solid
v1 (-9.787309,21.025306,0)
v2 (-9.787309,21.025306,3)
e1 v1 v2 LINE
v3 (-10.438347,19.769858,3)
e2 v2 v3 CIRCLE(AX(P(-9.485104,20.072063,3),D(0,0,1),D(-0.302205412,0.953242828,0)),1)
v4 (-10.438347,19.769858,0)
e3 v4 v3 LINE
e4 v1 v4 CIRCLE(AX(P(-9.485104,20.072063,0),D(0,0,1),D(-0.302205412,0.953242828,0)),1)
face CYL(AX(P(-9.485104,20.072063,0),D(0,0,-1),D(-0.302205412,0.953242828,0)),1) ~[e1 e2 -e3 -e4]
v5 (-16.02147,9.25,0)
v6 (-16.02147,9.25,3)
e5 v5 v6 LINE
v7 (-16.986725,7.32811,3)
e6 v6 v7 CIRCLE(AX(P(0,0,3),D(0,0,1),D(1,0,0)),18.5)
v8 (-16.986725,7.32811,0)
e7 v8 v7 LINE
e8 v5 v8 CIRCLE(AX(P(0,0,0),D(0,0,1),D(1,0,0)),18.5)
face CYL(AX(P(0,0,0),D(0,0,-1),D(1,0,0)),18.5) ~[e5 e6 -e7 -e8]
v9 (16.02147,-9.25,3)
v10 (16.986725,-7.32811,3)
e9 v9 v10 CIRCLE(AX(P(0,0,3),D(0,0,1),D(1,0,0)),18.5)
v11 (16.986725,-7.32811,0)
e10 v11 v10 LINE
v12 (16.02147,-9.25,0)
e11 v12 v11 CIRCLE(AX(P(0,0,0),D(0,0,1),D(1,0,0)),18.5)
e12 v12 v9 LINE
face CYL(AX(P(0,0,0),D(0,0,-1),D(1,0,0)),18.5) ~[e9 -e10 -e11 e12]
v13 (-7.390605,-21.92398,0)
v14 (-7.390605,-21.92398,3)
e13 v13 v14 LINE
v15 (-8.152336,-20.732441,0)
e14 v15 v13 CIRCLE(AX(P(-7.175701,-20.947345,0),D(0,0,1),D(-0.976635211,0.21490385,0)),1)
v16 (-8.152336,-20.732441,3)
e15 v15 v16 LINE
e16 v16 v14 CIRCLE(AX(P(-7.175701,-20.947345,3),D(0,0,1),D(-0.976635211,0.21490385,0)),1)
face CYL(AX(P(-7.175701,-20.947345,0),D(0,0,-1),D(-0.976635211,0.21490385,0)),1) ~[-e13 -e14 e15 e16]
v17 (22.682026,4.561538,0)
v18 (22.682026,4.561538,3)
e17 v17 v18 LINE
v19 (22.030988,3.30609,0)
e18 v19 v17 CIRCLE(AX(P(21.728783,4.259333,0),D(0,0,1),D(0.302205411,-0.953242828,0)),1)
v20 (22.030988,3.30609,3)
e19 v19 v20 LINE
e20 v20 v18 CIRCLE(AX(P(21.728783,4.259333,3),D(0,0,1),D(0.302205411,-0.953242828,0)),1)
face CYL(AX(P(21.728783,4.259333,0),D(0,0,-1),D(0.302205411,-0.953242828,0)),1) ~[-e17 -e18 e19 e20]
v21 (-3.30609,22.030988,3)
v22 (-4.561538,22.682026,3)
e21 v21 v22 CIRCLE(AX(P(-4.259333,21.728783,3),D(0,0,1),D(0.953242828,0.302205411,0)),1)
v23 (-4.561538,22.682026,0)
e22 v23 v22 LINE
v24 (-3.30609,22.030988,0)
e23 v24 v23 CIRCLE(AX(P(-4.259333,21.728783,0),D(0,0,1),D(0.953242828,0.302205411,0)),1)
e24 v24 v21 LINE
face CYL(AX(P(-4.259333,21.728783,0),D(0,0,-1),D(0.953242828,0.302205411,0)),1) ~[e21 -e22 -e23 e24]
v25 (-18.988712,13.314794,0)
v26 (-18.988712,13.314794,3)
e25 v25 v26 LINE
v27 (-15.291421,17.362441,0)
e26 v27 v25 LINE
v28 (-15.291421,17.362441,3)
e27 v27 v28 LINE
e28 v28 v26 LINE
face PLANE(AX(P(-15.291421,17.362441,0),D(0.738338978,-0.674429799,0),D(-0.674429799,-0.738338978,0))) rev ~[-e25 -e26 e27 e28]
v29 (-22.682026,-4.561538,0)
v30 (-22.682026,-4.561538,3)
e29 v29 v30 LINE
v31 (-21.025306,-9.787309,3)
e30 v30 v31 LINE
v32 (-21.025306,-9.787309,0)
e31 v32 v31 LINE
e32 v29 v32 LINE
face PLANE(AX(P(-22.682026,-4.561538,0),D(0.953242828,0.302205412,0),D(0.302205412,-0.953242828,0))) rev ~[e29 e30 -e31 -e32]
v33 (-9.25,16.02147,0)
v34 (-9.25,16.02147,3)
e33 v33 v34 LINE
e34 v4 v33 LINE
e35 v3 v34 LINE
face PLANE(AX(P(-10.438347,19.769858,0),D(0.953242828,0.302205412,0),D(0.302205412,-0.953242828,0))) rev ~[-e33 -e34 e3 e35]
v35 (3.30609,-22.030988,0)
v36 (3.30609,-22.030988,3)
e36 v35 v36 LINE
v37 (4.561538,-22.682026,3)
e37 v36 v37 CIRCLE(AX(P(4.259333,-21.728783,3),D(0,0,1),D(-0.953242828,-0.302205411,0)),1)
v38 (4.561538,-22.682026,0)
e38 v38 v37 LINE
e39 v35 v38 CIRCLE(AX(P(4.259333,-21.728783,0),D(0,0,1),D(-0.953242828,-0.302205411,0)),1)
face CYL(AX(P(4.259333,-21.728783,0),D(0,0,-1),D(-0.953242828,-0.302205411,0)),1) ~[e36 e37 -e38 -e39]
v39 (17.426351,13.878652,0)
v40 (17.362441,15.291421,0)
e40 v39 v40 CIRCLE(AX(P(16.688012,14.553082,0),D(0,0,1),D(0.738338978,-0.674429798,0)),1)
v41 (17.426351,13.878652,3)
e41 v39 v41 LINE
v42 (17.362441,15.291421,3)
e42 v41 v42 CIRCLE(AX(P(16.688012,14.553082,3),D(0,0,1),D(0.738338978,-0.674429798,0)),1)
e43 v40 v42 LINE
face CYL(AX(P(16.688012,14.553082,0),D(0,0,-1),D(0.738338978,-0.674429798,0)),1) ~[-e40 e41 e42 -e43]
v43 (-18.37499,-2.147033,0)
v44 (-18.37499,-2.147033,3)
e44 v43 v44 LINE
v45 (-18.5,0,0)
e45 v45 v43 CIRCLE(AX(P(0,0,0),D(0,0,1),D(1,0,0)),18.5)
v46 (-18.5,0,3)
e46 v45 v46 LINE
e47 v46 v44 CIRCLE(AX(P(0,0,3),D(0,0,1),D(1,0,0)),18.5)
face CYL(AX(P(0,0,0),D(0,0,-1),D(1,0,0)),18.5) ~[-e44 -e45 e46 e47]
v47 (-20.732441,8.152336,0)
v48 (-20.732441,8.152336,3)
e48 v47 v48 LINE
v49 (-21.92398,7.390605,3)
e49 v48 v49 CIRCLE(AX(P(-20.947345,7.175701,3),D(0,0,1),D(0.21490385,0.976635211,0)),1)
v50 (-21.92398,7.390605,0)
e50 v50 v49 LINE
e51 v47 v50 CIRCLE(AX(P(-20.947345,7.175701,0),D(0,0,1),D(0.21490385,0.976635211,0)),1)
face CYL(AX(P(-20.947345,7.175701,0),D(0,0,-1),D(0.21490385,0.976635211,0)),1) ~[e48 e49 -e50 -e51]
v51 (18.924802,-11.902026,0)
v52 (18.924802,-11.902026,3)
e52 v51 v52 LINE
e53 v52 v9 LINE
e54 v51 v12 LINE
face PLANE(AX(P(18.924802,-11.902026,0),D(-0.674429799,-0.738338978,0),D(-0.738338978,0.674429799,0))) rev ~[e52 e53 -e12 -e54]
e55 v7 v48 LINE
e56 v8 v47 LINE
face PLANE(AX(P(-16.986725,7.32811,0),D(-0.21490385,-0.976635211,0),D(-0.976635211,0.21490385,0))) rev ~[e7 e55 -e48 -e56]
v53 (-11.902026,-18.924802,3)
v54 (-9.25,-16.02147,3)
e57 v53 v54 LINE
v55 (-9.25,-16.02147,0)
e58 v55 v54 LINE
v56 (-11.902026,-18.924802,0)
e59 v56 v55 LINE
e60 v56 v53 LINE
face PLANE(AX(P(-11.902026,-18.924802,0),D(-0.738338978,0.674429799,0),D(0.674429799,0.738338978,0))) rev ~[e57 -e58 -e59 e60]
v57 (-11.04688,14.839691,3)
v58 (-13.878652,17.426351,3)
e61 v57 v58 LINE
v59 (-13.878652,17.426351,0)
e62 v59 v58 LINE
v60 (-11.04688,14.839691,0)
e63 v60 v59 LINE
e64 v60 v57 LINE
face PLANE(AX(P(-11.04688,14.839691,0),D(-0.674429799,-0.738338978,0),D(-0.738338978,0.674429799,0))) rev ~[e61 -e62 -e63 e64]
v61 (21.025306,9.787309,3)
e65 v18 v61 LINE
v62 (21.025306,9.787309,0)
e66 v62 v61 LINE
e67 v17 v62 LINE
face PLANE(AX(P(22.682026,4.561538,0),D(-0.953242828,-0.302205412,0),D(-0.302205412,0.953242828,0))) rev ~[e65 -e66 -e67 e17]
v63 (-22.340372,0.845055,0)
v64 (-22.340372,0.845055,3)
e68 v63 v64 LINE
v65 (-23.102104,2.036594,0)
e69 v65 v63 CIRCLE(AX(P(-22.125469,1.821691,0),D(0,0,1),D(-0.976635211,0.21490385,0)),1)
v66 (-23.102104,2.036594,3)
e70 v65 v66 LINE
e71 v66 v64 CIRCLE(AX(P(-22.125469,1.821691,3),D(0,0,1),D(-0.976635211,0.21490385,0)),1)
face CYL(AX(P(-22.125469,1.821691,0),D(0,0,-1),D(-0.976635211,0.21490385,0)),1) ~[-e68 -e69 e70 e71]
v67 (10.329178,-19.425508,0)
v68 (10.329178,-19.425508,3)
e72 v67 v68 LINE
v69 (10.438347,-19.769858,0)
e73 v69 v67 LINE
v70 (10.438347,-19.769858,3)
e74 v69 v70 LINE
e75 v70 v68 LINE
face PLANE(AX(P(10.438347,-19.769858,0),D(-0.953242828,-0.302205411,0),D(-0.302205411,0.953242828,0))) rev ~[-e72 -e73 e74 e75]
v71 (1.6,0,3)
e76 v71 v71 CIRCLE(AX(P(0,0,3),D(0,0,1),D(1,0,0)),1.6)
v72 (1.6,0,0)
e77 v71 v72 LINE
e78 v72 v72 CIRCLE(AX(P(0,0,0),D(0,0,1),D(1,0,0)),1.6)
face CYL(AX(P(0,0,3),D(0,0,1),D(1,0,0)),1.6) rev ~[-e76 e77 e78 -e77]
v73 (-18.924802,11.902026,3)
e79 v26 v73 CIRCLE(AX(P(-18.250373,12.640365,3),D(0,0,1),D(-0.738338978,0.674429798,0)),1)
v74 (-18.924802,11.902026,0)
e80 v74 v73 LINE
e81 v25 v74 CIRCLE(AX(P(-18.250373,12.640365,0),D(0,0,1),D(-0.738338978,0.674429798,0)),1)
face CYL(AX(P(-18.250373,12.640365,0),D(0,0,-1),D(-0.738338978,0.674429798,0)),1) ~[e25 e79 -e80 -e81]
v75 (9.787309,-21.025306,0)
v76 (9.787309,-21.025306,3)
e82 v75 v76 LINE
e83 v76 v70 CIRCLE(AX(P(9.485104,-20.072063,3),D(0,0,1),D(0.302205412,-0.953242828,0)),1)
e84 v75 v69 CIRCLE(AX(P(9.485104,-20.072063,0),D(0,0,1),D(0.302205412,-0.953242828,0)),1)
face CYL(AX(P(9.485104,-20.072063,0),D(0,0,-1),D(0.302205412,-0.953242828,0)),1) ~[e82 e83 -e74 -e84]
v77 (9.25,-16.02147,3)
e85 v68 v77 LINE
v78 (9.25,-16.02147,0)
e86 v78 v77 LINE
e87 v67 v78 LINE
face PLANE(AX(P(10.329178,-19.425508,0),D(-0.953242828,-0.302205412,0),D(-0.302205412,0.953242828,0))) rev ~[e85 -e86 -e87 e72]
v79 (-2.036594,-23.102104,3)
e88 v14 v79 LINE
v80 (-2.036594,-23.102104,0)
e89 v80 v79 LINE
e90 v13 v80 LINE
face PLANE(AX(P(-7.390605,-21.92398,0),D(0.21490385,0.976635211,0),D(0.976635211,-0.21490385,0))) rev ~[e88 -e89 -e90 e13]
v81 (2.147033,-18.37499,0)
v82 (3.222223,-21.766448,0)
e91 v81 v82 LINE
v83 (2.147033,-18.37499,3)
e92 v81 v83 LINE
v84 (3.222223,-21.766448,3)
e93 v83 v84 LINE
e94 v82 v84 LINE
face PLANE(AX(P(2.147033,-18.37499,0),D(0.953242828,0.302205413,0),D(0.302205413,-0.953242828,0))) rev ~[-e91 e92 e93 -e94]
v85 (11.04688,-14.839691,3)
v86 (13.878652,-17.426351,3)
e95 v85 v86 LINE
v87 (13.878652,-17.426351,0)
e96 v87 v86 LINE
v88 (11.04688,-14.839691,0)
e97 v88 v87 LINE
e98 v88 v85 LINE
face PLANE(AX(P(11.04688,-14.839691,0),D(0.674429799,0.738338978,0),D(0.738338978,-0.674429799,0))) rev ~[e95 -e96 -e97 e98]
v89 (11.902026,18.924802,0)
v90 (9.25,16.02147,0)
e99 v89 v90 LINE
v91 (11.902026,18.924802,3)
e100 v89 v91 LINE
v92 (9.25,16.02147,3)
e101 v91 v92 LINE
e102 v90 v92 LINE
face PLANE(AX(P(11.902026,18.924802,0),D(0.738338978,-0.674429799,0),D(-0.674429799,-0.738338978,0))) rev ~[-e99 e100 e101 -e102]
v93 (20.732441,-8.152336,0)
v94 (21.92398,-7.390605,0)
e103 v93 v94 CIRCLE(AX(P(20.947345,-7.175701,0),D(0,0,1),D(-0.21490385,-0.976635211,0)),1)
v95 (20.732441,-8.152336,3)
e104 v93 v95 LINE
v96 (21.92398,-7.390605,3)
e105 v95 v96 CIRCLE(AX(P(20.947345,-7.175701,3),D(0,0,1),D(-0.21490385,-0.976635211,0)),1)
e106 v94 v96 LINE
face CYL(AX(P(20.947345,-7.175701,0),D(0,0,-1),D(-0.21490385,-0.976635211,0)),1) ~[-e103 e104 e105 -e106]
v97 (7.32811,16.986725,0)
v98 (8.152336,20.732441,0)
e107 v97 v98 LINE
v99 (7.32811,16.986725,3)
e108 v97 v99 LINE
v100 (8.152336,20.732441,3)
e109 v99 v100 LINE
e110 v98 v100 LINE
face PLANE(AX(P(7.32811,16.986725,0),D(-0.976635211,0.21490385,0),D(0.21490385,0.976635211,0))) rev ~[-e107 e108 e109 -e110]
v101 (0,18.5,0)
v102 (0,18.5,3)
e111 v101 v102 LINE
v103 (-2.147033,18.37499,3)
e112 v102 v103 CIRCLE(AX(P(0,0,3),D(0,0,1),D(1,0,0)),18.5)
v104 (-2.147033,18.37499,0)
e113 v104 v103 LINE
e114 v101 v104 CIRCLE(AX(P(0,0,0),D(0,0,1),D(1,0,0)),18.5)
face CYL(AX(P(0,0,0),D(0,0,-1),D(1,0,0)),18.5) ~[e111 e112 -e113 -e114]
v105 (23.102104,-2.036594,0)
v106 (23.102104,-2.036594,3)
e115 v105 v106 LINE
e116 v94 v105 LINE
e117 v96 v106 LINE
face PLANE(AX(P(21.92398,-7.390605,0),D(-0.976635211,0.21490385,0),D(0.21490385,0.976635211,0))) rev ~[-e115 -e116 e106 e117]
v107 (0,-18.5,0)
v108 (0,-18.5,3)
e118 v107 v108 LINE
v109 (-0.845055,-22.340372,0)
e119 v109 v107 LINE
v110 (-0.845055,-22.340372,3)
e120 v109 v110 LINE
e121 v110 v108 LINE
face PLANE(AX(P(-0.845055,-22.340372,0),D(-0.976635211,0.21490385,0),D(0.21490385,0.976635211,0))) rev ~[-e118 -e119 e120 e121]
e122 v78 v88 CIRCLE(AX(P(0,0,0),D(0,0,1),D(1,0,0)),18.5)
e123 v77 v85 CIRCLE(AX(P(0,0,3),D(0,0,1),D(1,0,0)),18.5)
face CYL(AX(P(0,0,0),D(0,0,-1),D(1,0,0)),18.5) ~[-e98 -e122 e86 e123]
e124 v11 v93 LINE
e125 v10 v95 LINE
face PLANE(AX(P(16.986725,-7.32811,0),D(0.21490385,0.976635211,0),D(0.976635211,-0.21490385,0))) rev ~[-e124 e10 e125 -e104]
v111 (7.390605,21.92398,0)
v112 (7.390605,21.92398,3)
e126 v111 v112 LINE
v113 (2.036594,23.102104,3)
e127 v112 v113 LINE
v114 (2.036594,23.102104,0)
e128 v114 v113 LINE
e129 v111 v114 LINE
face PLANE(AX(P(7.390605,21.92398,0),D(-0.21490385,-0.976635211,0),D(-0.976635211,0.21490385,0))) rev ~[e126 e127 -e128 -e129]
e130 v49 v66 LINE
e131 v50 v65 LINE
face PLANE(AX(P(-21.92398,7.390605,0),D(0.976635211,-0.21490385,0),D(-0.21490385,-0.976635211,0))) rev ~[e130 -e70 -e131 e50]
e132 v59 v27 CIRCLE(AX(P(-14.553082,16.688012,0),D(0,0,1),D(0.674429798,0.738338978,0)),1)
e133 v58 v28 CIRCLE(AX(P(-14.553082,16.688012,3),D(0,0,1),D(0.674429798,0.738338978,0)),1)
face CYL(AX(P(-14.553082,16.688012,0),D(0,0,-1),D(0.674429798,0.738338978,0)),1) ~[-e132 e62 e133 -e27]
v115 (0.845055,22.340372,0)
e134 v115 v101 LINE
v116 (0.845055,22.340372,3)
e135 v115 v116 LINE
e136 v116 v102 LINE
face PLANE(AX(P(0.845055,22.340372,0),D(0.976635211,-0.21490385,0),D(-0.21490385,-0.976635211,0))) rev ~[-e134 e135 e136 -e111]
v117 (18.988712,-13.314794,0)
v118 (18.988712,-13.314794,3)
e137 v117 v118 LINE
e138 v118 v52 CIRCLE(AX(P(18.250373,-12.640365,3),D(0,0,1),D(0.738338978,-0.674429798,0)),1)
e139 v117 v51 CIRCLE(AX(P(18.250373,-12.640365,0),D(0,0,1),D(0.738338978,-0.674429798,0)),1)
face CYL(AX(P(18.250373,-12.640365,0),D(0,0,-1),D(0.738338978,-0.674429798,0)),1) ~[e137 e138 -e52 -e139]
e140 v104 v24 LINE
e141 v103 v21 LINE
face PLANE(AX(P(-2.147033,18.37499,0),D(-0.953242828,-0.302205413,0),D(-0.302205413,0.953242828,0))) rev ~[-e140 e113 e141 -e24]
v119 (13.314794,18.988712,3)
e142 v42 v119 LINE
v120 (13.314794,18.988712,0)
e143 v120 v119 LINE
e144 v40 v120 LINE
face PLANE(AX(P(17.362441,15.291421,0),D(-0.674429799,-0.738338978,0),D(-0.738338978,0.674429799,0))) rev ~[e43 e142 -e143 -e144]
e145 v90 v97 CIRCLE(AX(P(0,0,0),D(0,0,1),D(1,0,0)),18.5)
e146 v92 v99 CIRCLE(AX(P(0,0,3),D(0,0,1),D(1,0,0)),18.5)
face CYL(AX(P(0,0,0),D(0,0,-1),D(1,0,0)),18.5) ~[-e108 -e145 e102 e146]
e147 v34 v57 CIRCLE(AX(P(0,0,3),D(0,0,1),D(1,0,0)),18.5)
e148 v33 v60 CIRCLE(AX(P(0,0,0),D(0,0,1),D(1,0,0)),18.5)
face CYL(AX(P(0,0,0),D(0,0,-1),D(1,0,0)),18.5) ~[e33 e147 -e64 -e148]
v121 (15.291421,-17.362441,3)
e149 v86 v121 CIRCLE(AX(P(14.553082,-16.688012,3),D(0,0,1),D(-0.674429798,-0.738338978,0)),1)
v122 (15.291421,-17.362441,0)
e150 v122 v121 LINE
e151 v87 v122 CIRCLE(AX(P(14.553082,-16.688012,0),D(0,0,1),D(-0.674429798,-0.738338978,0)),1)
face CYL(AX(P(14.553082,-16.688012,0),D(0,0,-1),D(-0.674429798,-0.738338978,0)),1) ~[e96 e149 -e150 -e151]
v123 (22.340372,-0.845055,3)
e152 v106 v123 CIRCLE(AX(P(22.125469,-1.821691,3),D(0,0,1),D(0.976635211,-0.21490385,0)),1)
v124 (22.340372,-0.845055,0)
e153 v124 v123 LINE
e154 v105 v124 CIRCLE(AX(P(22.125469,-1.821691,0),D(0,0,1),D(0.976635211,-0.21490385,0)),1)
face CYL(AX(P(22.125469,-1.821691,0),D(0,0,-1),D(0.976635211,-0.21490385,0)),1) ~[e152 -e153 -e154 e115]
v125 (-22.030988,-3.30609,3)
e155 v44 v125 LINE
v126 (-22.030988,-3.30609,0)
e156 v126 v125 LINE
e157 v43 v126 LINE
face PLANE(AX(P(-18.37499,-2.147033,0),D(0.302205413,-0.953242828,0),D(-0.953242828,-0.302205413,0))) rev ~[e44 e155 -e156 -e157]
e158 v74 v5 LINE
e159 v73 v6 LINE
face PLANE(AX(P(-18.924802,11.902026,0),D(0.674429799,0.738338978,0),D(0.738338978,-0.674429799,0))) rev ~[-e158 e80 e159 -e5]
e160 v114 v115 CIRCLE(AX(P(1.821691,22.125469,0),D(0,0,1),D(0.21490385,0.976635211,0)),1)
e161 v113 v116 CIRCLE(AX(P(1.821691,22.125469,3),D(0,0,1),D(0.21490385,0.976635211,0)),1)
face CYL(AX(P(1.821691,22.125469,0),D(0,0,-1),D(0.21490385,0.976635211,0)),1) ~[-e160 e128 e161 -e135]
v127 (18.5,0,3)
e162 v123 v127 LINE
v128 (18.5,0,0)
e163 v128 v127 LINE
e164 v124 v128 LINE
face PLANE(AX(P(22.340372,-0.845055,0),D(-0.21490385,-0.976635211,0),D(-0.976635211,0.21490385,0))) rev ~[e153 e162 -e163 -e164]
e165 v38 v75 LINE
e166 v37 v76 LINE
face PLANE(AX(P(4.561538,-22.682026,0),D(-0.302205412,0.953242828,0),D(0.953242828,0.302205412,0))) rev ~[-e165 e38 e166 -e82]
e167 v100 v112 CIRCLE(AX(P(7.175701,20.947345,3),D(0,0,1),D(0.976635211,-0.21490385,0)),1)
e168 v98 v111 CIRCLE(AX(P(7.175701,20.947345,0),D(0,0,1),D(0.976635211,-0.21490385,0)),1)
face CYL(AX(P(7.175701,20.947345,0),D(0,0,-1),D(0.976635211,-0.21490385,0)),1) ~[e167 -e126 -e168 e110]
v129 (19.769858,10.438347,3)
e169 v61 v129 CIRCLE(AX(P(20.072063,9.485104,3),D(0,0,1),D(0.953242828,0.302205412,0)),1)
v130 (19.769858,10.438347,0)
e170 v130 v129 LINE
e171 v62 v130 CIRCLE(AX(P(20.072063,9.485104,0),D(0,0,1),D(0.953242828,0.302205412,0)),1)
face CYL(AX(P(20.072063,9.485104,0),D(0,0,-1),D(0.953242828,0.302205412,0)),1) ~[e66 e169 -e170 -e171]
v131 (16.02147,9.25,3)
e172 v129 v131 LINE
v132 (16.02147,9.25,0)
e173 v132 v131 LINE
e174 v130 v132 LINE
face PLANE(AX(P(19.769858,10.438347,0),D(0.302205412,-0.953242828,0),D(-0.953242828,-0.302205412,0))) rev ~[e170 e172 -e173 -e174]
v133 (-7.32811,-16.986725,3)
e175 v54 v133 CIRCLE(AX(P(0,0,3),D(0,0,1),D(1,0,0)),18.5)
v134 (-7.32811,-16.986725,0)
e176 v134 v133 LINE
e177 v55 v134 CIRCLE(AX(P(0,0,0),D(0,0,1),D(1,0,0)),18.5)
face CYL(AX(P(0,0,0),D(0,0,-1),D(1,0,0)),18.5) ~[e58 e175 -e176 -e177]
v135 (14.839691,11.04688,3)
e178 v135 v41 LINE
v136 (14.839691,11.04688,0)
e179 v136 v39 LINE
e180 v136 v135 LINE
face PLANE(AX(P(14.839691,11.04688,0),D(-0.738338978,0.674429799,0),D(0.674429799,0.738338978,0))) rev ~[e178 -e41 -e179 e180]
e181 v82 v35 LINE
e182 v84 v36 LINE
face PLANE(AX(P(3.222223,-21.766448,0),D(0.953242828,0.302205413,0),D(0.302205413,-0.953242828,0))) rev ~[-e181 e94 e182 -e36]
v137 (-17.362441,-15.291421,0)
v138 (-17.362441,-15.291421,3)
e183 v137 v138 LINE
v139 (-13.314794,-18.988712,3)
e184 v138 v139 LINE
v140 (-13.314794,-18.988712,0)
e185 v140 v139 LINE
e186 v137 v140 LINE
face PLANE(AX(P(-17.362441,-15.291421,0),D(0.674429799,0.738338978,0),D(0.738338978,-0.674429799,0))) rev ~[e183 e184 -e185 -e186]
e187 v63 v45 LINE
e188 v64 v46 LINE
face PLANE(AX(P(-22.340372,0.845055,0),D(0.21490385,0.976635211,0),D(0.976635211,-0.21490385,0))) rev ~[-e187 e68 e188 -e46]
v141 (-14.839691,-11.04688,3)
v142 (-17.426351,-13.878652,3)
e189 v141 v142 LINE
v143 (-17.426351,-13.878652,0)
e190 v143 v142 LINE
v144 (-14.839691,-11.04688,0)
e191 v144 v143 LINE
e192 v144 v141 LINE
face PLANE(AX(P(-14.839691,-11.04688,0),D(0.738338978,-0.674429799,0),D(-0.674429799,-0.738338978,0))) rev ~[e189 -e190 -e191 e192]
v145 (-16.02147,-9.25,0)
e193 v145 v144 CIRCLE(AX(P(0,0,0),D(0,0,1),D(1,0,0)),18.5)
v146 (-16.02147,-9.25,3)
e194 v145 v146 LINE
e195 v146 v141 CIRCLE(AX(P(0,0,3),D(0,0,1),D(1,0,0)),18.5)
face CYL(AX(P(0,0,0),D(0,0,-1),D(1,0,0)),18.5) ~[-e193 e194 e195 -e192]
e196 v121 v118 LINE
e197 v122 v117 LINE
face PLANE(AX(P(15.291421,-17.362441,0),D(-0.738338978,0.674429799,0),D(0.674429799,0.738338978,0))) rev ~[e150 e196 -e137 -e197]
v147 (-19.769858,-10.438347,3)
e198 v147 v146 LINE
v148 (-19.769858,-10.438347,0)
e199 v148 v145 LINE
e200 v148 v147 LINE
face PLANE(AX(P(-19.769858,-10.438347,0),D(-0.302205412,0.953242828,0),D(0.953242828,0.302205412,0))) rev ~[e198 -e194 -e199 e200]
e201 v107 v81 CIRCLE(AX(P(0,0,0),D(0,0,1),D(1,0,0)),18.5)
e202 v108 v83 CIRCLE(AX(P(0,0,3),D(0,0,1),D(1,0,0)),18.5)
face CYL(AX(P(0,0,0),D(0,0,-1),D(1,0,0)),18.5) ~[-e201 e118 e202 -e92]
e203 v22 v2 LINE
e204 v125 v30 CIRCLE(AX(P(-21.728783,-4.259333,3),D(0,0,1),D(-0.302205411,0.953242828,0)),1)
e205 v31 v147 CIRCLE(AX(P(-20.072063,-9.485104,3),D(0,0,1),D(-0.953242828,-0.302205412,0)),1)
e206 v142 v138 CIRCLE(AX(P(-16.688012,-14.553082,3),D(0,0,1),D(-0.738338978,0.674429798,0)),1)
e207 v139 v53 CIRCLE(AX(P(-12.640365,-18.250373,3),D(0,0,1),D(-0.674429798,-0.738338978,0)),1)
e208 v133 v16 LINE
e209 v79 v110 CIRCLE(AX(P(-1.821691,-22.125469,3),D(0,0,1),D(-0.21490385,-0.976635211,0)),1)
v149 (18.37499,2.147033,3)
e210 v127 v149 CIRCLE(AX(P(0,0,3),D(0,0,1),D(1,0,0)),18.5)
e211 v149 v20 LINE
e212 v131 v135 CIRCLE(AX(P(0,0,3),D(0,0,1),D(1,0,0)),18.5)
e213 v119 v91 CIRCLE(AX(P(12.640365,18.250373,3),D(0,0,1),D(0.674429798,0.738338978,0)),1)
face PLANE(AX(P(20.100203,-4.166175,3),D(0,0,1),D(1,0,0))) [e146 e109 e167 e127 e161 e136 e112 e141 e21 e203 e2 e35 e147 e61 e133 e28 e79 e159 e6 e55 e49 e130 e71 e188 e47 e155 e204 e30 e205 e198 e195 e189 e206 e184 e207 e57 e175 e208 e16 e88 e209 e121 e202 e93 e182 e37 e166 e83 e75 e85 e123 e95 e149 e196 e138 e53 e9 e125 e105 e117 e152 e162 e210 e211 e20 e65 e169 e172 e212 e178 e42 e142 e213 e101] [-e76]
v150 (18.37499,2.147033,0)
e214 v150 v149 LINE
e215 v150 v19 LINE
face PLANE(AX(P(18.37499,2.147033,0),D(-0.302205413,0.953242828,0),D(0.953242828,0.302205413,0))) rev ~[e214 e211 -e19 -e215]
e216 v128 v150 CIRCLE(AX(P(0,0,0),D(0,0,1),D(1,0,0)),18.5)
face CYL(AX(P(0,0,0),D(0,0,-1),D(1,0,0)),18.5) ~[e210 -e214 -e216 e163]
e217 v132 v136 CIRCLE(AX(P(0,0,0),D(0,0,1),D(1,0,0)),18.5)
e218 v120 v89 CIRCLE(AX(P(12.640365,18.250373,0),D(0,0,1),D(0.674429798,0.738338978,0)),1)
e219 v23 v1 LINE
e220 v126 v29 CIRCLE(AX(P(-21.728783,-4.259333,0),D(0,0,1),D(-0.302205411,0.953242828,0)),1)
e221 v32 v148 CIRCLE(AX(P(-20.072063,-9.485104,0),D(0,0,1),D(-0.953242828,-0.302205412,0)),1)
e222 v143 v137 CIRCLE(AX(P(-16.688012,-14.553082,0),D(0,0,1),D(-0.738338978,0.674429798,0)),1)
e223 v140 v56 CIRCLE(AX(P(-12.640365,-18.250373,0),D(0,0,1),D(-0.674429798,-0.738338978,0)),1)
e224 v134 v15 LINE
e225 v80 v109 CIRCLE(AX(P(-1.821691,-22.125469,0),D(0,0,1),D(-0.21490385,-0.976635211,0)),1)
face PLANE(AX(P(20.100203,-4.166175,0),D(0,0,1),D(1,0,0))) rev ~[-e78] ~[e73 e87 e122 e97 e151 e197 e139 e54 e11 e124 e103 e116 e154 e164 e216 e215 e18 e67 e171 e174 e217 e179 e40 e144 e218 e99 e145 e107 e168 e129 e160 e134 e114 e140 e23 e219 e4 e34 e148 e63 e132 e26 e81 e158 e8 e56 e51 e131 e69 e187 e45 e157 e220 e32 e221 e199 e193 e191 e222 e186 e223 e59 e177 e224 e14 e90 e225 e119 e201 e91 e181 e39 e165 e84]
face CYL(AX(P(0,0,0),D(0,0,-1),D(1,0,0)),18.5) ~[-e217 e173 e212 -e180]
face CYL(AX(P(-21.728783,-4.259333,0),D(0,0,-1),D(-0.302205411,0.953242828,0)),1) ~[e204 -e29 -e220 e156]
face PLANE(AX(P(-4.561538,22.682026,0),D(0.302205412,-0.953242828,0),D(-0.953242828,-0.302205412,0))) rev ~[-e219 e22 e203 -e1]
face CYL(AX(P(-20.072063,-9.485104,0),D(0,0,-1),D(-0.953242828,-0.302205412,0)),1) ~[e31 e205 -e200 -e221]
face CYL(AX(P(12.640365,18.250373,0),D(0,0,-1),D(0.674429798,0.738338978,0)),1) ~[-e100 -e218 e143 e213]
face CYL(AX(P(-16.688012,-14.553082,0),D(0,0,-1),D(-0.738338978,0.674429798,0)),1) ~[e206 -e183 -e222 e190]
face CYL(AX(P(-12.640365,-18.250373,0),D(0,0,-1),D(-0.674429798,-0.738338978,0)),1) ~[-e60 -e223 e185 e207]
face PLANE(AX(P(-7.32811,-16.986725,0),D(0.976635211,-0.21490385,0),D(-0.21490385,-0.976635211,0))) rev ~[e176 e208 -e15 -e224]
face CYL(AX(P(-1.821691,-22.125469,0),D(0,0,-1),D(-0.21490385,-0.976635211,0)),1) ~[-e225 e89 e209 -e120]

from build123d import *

# Parameters (mm, degrees)
SKETCH1_R           = 18.5
BOSS_EXTRUDE1_DEPTH = 3
BOSS_EXTRUDE2_START = -3
BOSS_EXTRUDE2_DEPTH = 3
SKETCH3_R           = 1.6
CUT_EXTRUDE1_DEPTH  = 3


with BuildPart() as part:
    # Sketch1 → Boss-Extrude1 (new body)
    with BuildSketch(Plane.XY):
        Circle(SKETCH1_R)
    extrude(amount=BOSS_EXTRUDE1_DEPTH)

    # Sketch2 → Boss-Extrude2 (add)
    with BuildSketch(Plane.XY.offset(3).offset(BOSS_EXTRUDE2_START)):
        with BuildLine():
            Line((0.845055361, 22.340372437), (0, 18.5))
            ThreePointArc((0, 18.5), (3.741363138, 18.117731698), (7.32810957, 16.986724526))
            Line((7.32810957, 16.986724526), (8.152336268, 20.732440653))
            ThreePointArc((8.152336268, 20.732440653), (8.018246407, 21.485969914), (7.390604906, 21.923979714))
            Line((7.390604906, 21.923979714), (2.036594422, 23.102103799))
            ThreePointArc((2.036594422, 23.102103799), (1.283065161, 22.968013938), (0.845055361, 22.340372437))
        make_face()
        with BuildLine():
            Line((14.839691312, 11.046880182), (17.426350635, 13.878652154))
            ThreePointArc((17.426350635, 13.878652154), (17.686990039, 14.598272567), (17.362441455, 15.291420931))
            Line((17.362441455, 15.291420931), (13.314794406, 18.98871156))
            ThreePointArc((13.314794406, 18.98871156), (12.595173993, 19.249350964), (11.902025629, 18.92480238))
            Line((11.902025629, 18.92480238), (9.25, 16.02146997))
            ThreePointArc((9.25, 16.02146997), (12.298981371, 13.81973434), (14.839691312, 11.046880182))
        make_face()
        with BuildLine():
            Line((18.374989752, 2.147033214), (22.030988422, 3.306090019))
            ThreePointArc((22.030988422, 3.306090019), (22.616518974, 3.798979875), (22.682025838, 4.561538259))
            Line((22.682025838, 4.561538259), (21.025305982, 9.787309393))
            ThreePointArc((21.025305982, 9.787309393), (20.532416125, 10.372839945), (19.769857741, 10.438346808))
            Line((19.769857741, 10.438346808), (16.02146997, 9.25))
            ThreePointArc((16.02146997, 9.25), (17.561097478, 5.818750327), (18.374989752, 2.147033214))
        make_face()
        with BuildLine():
            Line((16.986724526, -7.32810957), (20.732440653, -8.152336268))
            ThreePointArc((20.732440653, -8.152336268), (21.485969914, -8.018246407), (21.923979714, -7.390604906))
            Line((21.923979714, -7.390604906), (23.102103799, -2.036594422))
            ThreePointArc((23.102103799, -2.036594422), (22.968013938, -1.283065161), (22.340372437, -0.845055361))
            Line((22.340372437, -0.845055361), (18.5, 0))
            ThreePointArc((18.5, 0), (18.117731698, -3.741363138), (16.986724526, -7.32810957))
        make_face()
        with BuildLine():
            Line((11.046880182, -14.839691312), (13.878652154, -17.426350635))
            ThreePointArc((13.878652154, -17.426350635), (14.598272567, -17.686990039), (15.291420931, -17.362441455))
            Line((15.291420931, -17.362441455), (18.98871156, -13.314794406))
            ThreePointArc((18.98871156, -13.314794406), (19.249350964, -12.595173993), (18.92480238, -11.902025629))
            Line((18.92480238, -11.902025629), (16.02146997, -9.25))
            ThreePointArc((16.02146997, -9.25), (13.81973434, -12.298981371), (11.046880182, -14.839691312))
        make_face()
        with BuildLine():
            Line((3.222223056, -21.766447889), (3.306090019, -22.030988422))
            ThreePointArc((3.306090019, -22.030988422), (3.798979875, -22.616518974), (4.561538259, -22.682025838))
            Line((4.561538259, -22.682025838), (9.787309393, -21.025305982))
            ThreePointArc((9.787309393, -21.025305982), (10.372839945, -20.532416125), (10.438346808, -19.769857741))
            Line((10.438346808, -19.769857741), (10.329178092, -19.425508197))
            Line((10.329178092, -19.425508197), (9.25, -16.02146997))
            ThreePointArc((9.25, -16.02146997), (5.818750327, -17.561097478), (2.147033214, -18.374989752))
            Line((2.147033214, -18.374989752), (3.222223056, -21.766447889))
        make_face()
        with BuildLine():
            Line((-7.32810957, -16.986724526), (-8.152336268, -20.732440653))
            ThreePointArc((-8.152336268, -20.732440653), (-8.018246407, -21.485969914), (-7.390604906, -21.923979714))
            Line((-7.390604906, -21.923979714), (-2.036594422, -23.102103799))
            ThreePointArc((-2.036594422, -23.102103799), (-1.283065161, -22.968013938), (-0.845055361, -22.340372437))
            Line((-0.845055361, -22.340372437), (0, -18.5))
            ThreePointArc((0, -18.5), (-3.741363138, -18.117731698), (-7.32810957, -16.986724526))
        make_face()
        with BuildLine():
            Line((-14.839691312, -11.046880182), (-17.426350635, -13.878652154))
            ThreePointArc((-17.426350635, -13.878652154), (-17.686990039, -14.598272567), (-17.362441455, -15.291420931))
            Line((-17.362441455, -15.291420931), (-13.314794406, -18.98871156))
            ThreePointArc((-13.314794406, -18.98871156), (-12.595173993, -19.249350964), (-11.902025629, -18.92480238))
            Line((-11.902025629, -18.92480238), (-9.25, -16.02146997))
            ThreePointArc((-9.25, -16.02146997), (-12.298981371, -13.81973434), (-14.839691312, -11.046880182))
        make_face()
        with BuildLine():
            Line((-18.374989752, -2.147033214), (-22.030988422, -3.306090019))
            ThreePointArc((-22.030988422, -3.306090019), (-22.616518974, -3.798979875), (-22.682025838, -4.561538259))
            Line((-22.682025838, -4.561538259), (-21.025305982, -9.787309393))
            ThreePointArc((-21.025305982, -9.787309393), (-20.532416125, -10.372839945), (-19.769857741, -10.438346808))
            Line((-19.769857741, -10.438346808), (-16.02146997, -9.25))
            ThreePointArc((-16.02146997, -9.25), (-17.561097478, -5.818750327), (-18.374989752, -2.147033214))
        make_face()
        with BuildLine():
            Line((-16.986724526, 7.32810957), (-20.732440653, 8.152336268))
            ThreePointArc((-20.732440653, 8.152336268), (-21.485969914, 8.018246407), (-21.923979714, 7.390604906))
            Line((-21.923979714, 7.390604906), (-23.102103799, 2.036594422))
            ThreePointArc((-23.102103799, 2.036594422), (-22.968013938, 1.283065161), (-22.340372437, 0.845055361))
            Line((-22.340372437, 0.845055361), (-18.5, 0))
            ThreePointArc((-18.5, 0), (-18.117731698, 3.741363138), (-16.986724526, 7.32810957))
        make_face()
        with BuildLine():
            Line((-11.046880182, 14.839691312), (-13.878652154, 17.426350635))
            ThreePointArc((-13.878652154, 17.426350635), (-14.598272567, 17.686990039), (-15.291420931, 17.362441455))
            Line((-15.291420931, 17.362441455), (-18.98871156, 13.314794406))
            ThreePointArc((-18.98871156, 13.314794406), (-19.249350964, 12.595173993), (-18.92480238, 11.902025629))
            Line((-18.92480238, 11.902025629), (-16.02146997, 9.25))
            ThreePointArc((-16.02146997, 9.25), (-13.81973434, 12.298981371), (-11.046880182, 14.839691312))
        make_face()
        with BuildLine():
            Line((-2.147033214, 18.374989752), (-3.306090019, 22.030988422))
            ThreePointArc((-3.306090019, 22.030988422), (-3.798979875, 22.616518974), (-4.561538259, 22.682025838))
            Line((-4.561538259, 22.682025838), (-9.787309393, 21.025305982))
            ThreePointArc((-9.787309393, 21.025305982), (-10.372839945, 20.532416125), (-10.438346808, 19.769857741))
            Line((-10.438346808, 19.769857741), (-9.25, 16.02146997))
            ThreePointArc((-9.25, 16.02146997), (-5.818750327, 17.561097478), (-2.147033214, 18.374989752))
        make_face()
    extrude(amount=BOSS_EXTRUDE2_DEPTH)

    # Sketch3 → Cut-Extrude1 (cut)
    with BuildSketch(Plane.XY.offset(3)):
        Circle(SKETCH3_R)
    extrude(amount=-CUT_EXTRUDE1_DEPTH, mode=Mode.SUBTRACT)


solid = part.part
